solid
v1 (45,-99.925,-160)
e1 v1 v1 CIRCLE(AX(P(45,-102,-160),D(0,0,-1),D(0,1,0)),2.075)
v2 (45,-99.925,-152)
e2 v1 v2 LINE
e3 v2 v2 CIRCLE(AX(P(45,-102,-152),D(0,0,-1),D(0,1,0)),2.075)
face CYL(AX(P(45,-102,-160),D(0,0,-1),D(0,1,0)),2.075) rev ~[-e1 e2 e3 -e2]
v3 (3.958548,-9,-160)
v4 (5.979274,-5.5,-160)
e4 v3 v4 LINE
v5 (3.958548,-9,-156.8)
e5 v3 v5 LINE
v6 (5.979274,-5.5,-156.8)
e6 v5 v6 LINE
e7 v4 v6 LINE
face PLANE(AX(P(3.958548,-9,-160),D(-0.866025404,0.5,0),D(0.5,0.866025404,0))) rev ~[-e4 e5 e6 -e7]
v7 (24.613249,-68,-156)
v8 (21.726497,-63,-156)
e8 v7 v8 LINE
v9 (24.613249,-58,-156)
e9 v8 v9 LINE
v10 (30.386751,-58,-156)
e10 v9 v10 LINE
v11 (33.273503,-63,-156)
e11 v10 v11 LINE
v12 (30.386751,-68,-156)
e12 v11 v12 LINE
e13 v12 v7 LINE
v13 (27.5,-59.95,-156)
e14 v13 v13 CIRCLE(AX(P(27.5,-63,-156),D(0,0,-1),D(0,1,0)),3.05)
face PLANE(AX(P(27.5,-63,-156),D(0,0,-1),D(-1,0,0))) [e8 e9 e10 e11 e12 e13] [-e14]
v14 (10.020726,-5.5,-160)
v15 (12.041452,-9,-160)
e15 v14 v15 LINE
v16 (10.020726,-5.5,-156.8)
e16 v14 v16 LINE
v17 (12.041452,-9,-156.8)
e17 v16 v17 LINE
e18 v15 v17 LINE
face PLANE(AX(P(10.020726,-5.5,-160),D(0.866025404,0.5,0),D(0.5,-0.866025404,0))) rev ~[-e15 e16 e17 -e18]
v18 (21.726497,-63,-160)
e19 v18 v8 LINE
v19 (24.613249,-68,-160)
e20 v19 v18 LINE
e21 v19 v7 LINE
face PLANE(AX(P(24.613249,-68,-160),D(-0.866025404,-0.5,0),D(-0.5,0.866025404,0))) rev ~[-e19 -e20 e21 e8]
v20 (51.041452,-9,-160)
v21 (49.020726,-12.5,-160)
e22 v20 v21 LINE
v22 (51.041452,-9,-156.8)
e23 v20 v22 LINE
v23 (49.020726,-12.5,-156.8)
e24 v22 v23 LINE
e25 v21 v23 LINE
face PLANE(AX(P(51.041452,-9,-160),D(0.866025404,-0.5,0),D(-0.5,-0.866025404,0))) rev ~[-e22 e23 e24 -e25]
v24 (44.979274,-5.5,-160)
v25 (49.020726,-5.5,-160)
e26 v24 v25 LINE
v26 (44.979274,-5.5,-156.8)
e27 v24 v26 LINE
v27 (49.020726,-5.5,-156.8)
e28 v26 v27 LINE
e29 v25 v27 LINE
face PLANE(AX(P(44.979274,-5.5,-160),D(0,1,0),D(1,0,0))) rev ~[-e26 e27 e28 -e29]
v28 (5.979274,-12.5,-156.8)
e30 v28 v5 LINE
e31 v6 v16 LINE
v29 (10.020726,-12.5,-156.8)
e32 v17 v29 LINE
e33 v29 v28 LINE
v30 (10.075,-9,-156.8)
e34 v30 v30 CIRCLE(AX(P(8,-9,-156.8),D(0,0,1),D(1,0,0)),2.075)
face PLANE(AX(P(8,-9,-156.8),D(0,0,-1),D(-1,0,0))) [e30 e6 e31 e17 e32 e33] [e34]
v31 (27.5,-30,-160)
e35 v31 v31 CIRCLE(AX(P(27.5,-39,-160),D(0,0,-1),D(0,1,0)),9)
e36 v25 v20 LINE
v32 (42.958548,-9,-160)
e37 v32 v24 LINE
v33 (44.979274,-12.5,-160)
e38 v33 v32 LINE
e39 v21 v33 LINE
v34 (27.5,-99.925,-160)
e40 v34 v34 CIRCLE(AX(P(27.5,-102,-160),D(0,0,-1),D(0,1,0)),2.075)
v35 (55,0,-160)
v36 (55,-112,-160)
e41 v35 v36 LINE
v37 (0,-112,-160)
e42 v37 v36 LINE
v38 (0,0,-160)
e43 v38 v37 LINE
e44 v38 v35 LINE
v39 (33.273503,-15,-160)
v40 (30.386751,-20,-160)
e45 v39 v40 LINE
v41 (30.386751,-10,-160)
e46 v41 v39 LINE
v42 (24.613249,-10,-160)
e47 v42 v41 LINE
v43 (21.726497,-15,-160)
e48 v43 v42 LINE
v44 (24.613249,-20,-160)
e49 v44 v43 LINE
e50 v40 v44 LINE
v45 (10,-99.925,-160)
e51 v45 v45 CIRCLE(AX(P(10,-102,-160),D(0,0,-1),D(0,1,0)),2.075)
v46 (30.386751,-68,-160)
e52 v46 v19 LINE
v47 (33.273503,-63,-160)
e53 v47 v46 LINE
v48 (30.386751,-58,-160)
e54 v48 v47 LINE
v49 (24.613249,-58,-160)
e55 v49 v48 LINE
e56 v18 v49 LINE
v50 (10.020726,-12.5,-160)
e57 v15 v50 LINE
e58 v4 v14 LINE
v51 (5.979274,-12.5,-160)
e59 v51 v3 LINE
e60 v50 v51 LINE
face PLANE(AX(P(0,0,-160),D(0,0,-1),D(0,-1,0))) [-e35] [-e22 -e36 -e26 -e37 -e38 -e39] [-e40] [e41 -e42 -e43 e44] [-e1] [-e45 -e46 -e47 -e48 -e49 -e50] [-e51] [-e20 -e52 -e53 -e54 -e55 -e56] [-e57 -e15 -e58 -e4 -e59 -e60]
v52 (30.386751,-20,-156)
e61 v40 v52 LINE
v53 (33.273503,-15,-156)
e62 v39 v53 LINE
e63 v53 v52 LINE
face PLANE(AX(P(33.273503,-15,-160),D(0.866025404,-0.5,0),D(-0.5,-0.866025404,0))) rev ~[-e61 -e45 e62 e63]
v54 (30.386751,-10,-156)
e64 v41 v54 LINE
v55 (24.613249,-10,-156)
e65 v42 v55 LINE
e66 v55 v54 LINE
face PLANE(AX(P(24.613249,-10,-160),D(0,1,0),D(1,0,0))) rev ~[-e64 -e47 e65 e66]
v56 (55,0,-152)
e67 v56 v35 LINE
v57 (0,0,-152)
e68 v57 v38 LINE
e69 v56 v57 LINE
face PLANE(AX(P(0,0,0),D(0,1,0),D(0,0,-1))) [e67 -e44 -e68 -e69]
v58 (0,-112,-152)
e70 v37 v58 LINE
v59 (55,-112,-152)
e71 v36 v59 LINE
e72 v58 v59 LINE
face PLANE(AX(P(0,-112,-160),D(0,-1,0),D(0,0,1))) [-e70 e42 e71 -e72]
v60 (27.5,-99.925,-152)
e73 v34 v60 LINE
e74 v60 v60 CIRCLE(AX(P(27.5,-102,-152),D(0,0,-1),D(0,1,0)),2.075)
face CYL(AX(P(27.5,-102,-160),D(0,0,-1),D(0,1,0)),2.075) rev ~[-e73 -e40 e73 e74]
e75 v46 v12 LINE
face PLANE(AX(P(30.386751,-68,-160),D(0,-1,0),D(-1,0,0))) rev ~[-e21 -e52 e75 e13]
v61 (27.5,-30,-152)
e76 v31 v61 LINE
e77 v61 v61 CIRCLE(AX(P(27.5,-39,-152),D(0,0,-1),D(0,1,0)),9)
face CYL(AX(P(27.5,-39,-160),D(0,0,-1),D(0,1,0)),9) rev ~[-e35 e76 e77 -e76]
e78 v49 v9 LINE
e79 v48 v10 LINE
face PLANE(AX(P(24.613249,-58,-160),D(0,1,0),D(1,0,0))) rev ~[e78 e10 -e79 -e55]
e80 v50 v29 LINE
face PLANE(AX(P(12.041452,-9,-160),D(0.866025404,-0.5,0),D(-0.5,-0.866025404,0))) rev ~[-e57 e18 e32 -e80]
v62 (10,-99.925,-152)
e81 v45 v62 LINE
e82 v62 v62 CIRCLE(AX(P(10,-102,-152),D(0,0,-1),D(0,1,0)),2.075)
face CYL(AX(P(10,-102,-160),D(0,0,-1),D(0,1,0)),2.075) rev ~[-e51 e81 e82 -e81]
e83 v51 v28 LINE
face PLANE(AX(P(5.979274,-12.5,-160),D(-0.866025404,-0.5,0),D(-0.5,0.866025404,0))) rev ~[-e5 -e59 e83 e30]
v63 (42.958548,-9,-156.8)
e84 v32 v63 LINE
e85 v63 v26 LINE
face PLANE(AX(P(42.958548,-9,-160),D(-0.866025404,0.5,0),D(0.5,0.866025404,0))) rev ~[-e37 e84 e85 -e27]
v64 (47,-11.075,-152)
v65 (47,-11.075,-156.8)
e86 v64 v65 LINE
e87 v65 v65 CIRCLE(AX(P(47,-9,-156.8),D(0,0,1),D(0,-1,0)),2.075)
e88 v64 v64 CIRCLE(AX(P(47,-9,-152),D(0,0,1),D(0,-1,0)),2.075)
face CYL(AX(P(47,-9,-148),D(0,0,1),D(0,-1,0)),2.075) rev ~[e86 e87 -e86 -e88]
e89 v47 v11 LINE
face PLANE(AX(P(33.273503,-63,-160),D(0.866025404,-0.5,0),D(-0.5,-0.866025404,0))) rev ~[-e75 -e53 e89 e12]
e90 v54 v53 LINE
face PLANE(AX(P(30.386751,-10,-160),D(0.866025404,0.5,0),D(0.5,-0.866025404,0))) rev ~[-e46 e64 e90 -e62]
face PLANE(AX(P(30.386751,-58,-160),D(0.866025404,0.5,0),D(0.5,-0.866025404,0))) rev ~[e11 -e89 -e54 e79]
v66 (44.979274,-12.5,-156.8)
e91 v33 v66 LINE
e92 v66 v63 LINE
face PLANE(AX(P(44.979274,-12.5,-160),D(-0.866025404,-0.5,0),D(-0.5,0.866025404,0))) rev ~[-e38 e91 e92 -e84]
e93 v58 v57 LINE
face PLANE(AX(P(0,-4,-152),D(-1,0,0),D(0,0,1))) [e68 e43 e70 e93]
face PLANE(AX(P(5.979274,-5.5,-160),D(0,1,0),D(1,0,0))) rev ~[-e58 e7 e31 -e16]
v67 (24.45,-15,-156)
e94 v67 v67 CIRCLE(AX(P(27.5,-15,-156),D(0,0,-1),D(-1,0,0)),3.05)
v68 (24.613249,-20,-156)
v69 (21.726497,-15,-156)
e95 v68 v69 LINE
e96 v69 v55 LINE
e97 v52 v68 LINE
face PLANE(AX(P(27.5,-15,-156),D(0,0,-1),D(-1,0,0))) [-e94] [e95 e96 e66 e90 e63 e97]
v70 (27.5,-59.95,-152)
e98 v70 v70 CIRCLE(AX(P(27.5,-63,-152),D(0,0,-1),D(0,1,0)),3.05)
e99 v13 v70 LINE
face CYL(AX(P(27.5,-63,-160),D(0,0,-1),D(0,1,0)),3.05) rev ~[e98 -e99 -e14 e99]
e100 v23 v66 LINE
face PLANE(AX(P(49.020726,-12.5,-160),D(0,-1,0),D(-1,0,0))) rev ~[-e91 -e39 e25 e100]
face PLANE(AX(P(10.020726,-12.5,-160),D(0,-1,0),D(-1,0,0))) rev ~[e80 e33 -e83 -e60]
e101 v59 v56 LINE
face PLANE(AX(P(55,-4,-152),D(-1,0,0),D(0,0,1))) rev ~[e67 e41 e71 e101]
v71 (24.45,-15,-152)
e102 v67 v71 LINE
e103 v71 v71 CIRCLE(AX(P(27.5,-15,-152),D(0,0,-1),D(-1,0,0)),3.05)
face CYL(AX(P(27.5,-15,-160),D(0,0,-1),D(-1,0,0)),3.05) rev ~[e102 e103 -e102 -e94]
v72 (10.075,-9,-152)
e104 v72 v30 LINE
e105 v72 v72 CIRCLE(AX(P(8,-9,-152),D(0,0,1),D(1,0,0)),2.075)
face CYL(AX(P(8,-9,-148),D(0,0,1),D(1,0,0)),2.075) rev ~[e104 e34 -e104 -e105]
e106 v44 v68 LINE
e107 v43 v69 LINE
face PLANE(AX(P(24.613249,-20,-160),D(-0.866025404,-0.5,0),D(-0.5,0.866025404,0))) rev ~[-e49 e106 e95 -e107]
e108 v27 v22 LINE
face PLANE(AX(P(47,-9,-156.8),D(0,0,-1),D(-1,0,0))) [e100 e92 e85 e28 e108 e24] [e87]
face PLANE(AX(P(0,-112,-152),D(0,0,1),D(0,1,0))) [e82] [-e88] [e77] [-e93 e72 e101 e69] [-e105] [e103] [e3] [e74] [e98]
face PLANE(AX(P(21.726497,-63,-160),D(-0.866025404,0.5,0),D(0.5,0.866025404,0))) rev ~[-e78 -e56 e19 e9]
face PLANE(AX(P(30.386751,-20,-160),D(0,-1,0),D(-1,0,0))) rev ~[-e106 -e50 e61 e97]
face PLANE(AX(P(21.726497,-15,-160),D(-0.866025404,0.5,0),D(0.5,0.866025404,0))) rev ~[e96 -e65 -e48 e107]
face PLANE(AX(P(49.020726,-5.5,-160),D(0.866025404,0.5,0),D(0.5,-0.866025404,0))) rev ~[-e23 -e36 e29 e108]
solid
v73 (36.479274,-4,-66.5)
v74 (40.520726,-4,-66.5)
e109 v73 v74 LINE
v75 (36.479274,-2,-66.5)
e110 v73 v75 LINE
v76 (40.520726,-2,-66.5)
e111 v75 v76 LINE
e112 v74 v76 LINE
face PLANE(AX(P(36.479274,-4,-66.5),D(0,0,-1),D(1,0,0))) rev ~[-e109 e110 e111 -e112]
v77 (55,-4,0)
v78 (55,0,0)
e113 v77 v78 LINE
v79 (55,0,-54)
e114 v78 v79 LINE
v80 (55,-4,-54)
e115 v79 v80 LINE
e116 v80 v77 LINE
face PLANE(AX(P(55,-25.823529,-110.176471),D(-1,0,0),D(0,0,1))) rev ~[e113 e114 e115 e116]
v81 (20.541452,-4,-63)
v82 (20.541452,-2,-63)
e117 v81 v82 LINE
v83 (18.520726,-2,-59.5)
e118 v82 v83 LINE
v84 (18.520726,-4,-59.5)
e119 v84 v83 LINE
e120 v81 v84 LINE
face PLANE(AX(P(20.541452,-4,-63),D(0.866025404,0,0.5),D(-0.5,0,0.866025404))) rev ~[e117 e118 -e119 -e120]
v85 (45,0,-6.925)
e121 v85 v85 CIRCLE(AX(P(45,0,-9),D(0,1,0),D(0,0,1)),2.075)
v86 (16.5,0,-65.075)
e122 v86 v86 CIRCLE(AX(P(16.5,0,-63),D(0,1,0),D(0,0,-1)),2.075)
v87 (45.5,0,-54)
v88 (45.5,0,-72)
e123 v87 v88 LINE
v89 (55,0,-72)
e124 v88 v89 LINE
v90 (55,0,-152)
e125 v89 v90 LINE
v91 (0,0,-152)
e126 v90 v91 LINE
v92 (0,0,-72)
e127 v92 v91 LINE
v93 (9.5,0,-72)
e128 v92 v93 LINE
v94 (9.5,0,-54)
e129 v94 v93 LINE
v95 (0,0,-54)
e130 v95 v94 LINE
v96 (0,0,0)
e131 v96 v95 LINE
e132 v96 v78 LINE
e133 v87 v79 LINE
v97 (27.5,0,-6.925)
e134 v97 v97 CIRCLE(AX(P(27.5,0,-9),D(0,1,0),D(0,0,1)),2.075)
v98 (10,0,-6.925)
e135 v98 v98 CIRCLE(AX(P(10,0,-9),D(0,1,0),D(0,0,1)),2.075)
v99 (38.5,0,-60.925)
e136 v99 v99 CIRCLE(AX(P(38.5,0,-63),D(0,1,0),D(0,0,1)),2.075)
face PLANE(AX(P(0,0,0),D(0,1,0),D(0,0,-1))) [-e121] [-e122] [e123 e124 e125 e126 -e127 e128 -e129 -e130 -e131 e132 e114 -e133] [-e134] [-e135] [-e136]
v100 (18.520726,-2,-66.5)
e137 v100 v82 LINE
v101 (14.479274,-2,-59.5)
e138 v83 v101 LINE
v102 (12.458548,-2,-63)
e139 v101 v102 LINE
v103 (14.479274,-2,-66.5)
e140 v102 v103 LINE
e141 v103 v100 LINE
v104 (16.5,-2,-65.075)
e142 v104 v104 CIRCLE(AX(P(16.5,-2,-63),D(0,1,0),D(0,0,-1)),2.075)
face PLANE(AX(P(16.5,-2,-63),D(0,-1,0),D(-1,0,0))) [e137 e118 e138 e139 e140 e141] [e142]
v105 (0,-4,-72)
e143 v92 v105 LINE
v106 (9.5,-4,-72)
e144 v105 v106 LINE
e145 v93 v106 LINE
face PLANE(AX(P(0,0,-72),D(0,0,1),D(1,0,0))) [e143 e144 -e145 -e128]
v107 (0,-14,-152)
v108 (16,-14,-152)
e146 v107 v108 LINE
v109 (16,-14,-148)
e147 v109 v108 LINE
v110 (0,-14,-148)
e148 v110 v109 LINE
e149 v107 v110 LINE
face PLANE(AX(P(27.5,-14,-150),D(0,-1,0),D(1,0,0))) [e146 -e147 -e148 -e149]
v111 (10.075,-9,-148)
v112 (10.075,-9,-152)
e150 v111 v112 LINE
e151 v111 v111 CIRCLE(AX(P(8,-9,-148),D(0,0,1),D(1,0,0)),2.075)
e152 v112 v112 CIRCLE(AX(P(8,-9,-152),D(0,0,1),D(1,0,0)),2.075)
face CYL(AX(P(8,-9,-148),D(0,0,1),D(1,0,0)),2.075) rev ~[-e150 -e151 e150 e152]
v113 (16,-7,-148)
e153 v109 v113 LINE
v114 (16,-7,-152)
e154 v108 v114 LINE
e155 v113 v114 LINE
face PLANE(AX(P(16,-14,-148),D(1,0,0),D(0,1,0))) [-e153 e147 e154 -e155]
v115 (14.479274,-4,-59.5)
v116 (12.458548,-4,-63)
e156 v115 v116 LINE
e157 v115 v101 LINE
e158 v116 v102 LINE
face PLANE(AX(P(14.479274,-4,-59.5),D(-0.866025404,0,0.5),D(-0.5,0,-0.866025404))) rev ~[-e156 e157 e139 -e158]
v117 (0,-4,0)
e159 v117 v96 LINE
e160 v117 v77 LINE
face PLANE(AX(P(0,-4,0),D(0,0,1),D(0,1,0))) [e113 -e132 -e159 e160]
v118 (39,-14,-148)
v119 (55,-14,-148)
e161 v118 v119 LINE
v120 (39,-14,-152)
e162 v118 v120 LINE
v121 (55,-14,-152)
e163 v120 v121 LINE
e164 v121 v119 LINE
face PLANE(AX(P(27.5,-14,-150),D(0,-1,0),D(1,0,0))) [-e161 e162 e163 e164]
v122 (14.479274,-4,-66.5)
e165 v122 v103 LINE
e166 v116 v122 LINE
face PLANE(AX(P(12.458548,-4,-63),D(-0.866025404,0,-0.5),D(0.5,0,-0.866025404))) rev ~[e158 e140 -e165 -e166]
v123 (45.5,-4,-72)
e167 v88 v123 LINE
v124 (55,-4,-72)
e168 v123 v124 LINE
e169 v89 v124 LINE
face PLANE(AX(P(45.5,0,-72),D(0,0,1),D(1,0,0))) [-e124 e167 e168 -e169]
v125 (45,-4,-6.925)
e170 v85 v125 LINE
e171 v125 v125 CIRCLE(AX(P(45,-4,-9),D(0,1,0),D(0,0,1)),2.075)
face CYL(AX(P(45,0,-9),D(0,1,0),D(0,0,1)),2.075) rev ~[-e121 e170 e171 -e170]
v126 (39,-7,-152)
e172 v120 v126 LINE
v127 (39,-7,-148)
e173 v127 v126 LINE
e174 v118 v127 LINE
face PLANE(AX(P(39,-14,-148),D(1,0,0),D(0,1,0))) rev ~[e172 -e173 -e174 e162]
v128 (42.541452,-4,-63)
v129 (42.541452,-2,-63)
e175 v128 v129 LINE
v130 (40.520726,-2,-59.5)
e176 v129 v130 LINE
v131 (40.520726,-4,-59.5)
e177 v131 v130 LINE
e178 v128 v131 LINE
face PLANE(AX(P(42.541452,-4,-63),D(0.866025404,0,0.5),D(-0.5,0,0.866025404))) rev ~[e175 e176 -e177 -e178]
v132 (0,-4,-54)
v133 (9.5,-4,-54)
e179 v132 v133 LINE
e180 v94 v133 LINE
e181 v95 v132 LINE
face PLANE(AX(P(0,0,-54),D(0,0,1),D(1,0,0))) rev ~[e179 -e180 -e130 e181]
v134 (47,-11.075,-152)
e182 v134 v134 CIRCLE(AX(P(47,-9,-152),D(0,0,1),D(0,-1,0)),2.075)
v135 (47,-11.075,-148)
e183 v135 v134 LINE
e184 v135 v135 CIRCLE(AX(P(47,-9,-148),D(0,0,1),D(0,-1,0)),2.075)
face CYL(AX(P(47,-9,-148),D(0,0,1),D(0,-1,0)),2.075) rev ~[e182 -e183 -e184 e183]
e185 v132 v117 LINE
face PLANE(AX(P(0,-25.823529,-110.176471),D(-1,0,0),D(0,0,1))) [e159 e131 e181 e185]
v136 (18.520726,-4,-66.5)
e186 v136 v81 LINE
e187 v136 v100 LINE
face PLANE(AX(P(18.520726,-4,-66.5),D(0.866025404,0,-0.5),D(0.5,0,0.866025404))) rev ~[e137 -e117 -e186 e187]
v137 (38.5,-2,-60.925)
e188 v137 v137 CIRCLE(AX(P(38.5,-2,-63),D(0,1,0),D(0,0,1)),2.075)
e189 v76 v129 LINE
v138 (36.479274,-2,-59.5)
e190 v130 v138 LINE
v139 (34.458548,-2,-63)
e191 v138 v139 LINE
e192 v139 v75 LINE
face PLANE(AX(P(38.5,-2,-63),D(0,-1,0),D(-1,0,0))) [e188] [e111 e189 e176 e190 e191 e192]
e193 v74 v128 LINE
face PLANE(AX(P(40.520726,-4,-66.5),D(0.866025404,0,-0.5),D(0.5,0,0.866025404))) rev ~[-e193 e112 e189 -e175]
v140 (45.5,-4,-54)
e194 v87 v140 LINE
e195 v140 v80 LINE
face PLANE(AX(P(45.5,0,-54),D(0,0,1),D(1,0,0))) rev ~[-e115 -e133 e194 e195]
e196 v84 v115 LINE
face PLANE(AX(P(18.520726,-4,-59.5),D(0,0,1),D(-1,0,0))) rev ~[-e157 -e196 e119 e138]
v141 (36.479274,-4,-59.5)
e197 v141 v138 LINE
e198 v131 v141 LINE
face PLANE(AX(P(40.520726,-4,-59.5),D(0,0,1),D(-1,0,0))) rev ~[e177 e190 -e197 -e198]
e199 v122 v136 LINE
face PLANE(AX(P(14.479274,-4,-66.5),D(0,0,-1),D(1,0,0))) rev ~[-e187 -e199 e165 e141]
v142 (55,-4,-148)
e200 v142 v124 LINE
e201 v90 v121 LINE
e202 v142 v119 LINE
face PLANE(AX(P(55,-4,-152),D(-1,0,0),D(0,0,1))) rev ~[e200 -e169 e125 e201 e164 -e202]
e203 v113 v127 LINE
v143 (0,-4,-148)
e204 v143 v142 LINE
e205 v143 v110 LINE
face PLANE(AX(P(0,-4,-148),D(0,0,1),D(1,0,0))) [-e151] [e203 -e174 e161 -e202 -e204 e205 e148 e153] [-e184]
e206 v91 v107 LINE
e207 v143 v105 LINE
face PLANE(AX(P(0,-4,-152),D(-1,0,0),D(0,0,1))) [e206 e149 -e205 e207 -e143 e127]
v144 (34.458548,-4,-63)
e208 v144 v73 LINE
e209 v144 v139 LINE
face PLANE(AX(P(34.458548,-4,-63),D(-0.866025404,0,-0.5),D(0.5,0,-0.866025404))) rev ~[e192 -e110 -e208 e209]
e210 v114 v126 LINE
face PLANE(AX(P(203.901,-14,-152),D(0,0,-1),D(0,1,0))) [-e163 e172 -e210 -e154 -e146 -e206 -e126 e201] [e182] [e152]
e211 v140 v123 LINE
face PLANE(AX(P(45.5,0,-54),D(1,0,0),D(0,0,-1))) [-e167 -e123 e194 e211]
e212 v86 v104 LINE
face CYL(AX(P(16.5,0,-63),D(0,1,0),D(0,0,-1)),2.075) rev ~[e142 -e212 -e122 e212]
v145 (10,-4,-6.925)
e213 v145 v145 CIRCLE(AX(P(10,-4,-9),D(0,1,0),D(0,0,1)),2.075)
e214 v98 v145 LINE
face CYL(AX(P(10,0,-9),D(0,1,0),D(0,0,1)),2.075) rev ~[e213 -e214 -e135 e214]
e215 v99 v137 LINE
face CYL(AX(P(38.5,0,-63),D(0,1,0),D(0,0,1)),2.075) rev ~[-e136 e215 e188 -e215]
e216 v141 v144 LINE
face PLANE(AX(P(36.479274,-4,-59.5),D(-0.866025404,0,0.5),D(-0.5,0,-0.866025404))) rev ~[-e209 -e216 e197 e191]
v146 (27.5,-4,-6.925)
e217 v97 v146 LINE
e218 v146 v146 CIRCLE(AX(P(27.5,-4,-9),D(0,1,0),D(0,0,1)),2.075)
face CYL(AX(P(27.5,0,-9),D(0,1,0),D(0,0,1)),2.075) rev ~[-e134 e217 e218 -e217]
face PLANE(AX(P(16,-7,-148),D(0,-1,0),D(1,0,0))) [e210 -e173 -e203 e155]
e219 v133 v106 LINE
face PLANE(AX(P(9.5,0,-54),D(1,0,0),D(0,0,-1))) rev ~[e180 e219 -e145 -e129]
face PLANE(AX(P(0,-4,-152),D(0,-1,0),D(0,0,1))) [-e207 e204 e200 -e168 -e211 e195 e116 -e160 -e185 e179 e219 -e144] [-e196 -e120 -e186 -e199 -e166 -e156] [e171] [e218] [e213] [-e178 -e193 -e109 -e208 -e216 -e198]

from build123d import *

# Parameters (mm, degrees)
BOSS_EXTRUDE1_DEPTH    = 55
CUT_EXTRUDE1_REACH     = 204.901
SKETCH2_R              = 9
SKETCH2_R_2            = 3.05
CUT_EXTRUDE2_DEPTH     = 4
SKETCH4_R              = 2.075
CUT_EXTRUDE3_DEPTH     = 4
CUT_EXTRUDE5_DEPTH     = 2
CUT_EXTRUDE6_REACH     = 204.901
SKETCH8_W              = 9.5
SKETCH8_H              = 18
CUT_EXTRUDE7_REACH     = 204.901
SKETCH9_R              = 2.075
CUT_EXTRUDE8_REACH     = 204.901
SKETCH10_R             = 2.075
SKETCH12_W             = 55
SKETCH12_H             = 4
BOSS_EXTRUDE2_DEPTH    = 10
SKETCH13_W             = 23
SKETCH13_H             = 7
CUT_EXTRUDE9_DEPTH     = 4
CUT_EXTRUDE10_REACH    = 195.579
SKETCH14_R             = 2.075
CUT_EXTRUDE11_DEPTH    = 3.2
SPLIT1_SURFACE_1_BACK  = 203.901
SPLIT1_SURFACE_1_DEPTH = 407.802
SPLIT1_SURFACE_2_BACK  = 203.901
SPLIT1_SURFACE_2_DEPTH = 407.802


with BuildPart() as part:
    # Sketch1 → Boss-Extrude1 (new body)
    with BuildSketch(Plane(origin=(0, 0, 0), x_dir=(0, 0, -1), z_dir=(1, 0, 0))):
        Polygon((0, 0), (160, 0), (160, -112), (152, -112), (152, -4), (0, -4), align=None)
    extrude(amount=BOSS_EXTRUDE1_DEPTH)

    # Sketch2 → Cut-Extrude1 (cut, up to next)
    with BuildSketch(Plane(origin=(0, 0, -160), x_dir=(-1, 0, 0), z_dir=(0, 0, -1)), mode=Mode.PRIVATE) as cut_extrude1_sk1:
        with Locations(Location((-27.5, -39, 0), (0, 0, 90))):
            Circle(SKETCH2_R)
    cut_extrude1_tool1 = extrude(cut_extrude1_sk1.sketch, amount=-CUT_EXTRUDE1_REACH, mode=Mode.PRIVATE) & part.part
    # Sketch2 → Cut-Extrude1 (cut, up to next)
    with BuildSketch(Plane(origin=(0, 0, -160), x_dir=(-1, 0, 0), z_dir=(0, 0, -1)), mode=Mode.PRIVATE) as cut_extrude1_sk2:
        with Locations(Location((-27.5, -63, 0), (0, 0, 90))):
            Circle(SKETCH2_R_2)
    cut_extrude1_tool2 = extrude(cut_extrude1_sk2.sketch, amount=-CUT_EXTRUDE1_REACH, mode=Mode.PRIVATE) & part.part
    # Sketch2 → Cut-Extrude1 (cut, up to next)
    with BuildSketch(Plane(origin=(0, 0, -160), x_dir=(-1, 0, 0), z_dir=(0, 0, -1)), mode=Mode.PRIVATE) as cut_extrude1_sk3:
        with Locations((-27.5, -15)):
            Circle(SKETCH2_R_2)
    cut_extrude1_tool3 = extrude(cut_extrude1_sk3.sketch, amount=-CUT_EXTRUDE1_REACH, mode=Mode.PRIVATE) & part.part
    add(cut_extrude1_tool1.solids().sort_by_distance((27.5, -39, -160))[0], mode=Mode.SUBTRACT)
    add(cut_extrude1_tool2.solids().sort_by_distance((27.5, -63, -160))[0], mode=Mode.SUBTRACT)
    add(cut_extrude1_tool3.solids().sort_by_distance((27.5, -15, -160))[0], mode=Mode.SUBTRACT)

    # Sketch3 → Cut-Extrude2 (cut)
    with BuildSketch(Plane(origin=(0, 0, -160), x_dir=(-1, 0, 0), z_dir=(0, 0, -1))):
        Polygon((-21.726497308, -15), (-24.613248654, -10), (-30.386751346, -10), (-33.273502692, -15), (-30.386751346, -20), (-24.613248654, -20), align=None)
        Polygon((-24.613248654, -68), (-21.726497308, -63), (-24.613248654, -58), (-30.386751346, -58), (-33.273502692, -63), (-30.386751346, -68), align=None)
    extrude(amount=-CUT_EXTRUDE2_DEPTH, mode=Mode.SUBTRACT)

    # Sketch4 → Cut-Extrude3 (cut)
    with BuildSketch(Plane(origin=(0, 0, 0), x_dir=(1, 0, 0), z_dir=(0, 1, 0))):
        with Locations(Location((38.5, 63, 0), (0, 0, 270))):
            Circle(SKETCH4_R)
        with Locations(Location((16.5, 63, 0), (0, 0, 90))):
            Circle(SKETCH4_R)
    extrude(amount=-CUT_EXTRUDE3_DEPTH, mode=Mode.SUBTRACT)

    # Sketch7 → Cut-Extrude5 (cut)
    with BuildSketch(Plane(origin=(0, -4, 0), x_dir=(-1, 0, 0), z_dir=(0, -1, 0))):
        Polygon((-18.520725942, 66.5), (-20.541451884, 63), (-18.520725942, 59.5), (-14.479274058, 59.5), (-12.458548116, 63), (-14.479274058, 66.5), align=None)
        Polygon((-42.541451884, 63), (-40.520725942, 59.5), (-36.479274058, 59.5), (-34.458548116, 63), (-36.479274058, 66.5), (-40.520725942, 66.5), align=None)
    extrude(amount=-CUT_EXTRUDE5_DEPTH, mode=Mode.SUBTRACT)

    # Sketch8 → Cut-Extrude6 (cut, up to next)
    with BuildSketch(Plane(origin=(0, 0, 0), x_dir=(1, 0, 0), z_dir=(0, 1, 0)), mode=Mode.PRIVATE) as cut_extrude6_sk1:
        with Locations((4.75, 63)):
            Rectangle(SKETCH8_W, SKETCH8_H)
    cut_extrude6_tool1 = extrude(cut_extrude6_sk1.sketch, amount=-CUT_EXTRUDE6_REACH, mode=Mode.PRIVATE) & part.part
    # Sketch8 → Cut-Extrude6 (cut, up to next)
    with BuildSketch(Plane(origin=(0, 0, 0), x_dir=(1, 0, 0), z_dir=(0, 1, 0)), mode=Mode.PRIVATE) as cut_extrude6_sk2:
        with Locations((50.25, 63)):
            Rectangle(SKETCH8_W, SKETCH8_H)
    cut_extrude6_tool2 = extrude(cut_extrude6_sk2.sketch, amount=-CUT_EXTRUDE6_REACH, mode=Mode.PRIVATE) & part.part
    add(cut_extrude6_tool1.solids().sort_by_distance((4.75, 0, -63))[0], mode=Mode.SUBTRACT)
    add(cut_extrude6_tool2.solids().sort_by_distance((50.25, 0, -63))[0], mode=Mode.SUBTRACT)

    # Sketch9 → Cut-Extrude7 (cut, up to next)
    with BuildSketch(Plane(origin=(0, 0, -160), x_dir=(-1, 0, 0), z_dir=(0, 0, -1)), mode=Mode.PRIVATE) as cut_extrude7_sk1:
        with Locations(Location((-45, -102, 0), (0, 0, 90))):
            Circle(SKETCH9_R)
    cut_extrude7_tool1 = extrude(cut_extrude7_sk1.sketch, amount=-CUT_EXTRUDE7_REACH, mode=Mode.PRIVATE) & part.part
    # Sketch9 → Cut-Extrude7 (cut, up to next)
    with BuildSketch(Plane(origin=(0, 0, -160), x_dir=(-1, 0, 0), z_dir=(0, 0, -1)), mode=Mode.PRIVATE) as cut_extrude7_sk2:
        with Locations(Location((-27.5, -102, 0), (0, 0, 90))):
            Circle(SKETCH9_R)
    cut_extrude7_tool2 = extrude(cut_extrude7_sk2.sketch, amount=-CUT_EXTRUDE7_REACH, mode=Mode.PRIVATE) & part.part
    # Sketch9 → Cut-Extrude7 (cut, up to next)
    with BuildSketch(Plane(origin=(0, 0, -160), x_dir=(-1, 0, 0), z_dir=(0, 0, -1)), mode=Mode.PRIVATE) as cut_extrude7_sk3:
        with Locations(Location((-10, -102, 0), (0, 0, 90))):
            Circle(SKETCH9_R)
    cut_extrude7_tool3 = extrude(cut_extrude7_sk3.sketch, amount=-CUT_EXTRUDE7_REACH, mode=Mode.PRIVATE) & part.part
    add(cut_extrude7_tool1.solids().sort_by_distance((45, -102, -160))[0], mode=Mode.SUBTRACT)
    add(cut_extrude7_tool2.solids().sort_by_distance((27.5, -102, -160))[0], mode=Mode.SUBTRACT)
    add(cut_extrude7_tool3.solids().sort_by_distance((10, -102, -160))[0], mode=Mode.SUBTRACT)

    # Sketch10 → Cut-Extrude8 (cut, up to next)
    with BuildSketch(Plane(origin=(0, 0, 0), x_dir=(1, 0, 0), z_dir=(0, 1, 0)), mode=Mode.PRIVATE) as cut_extrude8_sk1:
        with Locations(Location((10, 9, 0), (0, 0, 270))):
            Circle(SKETCH10_R)
    cut_extrude8_tool1 = extrude(cut_extrude8_sk1.sketch, amount=-CUT_EXTRUDE8_REACH, mode=Mode.PRIVATE) & part.part
    # Sketch10 → Cut-Extrude8 (cut, up to next)
    with BuildSketch(Plane(origin=(0, 0, 0), x_dir=(1, 0, 0), z_dir=(0, 1, 0)), mode=Mode.PRIVATE) as cut_extrude8_sk2:
        with Locations(Location((27.5, 9, 0), (0, 0, 270))):
            Circle(SKETCH10_R)
    cut_extrude8_tool2 = extrude(cut_extrude8_sk2.sketch, amount=-CUT_EXTRUDE8_REACH, mode=Mode.PRIVATE) & part.part
    # Sketch10 → Cut-Extrude8 (cut, up to next)
    with BuildSketch(Plane(origin=(0, 0, 0), x_dir=(1, 0, 0), z_dir=(0, 1, 0)), mode=Mode.PRIVATE) as cut_extrude8_sk3:
        with Locations(Location((45, 9, 0), (0, 0, 270))):
            Circle(SKETCH10_R)
    cut_extrude8_tool3 = extrude(cut_extrude8_sk3.sketch, amount=-CUT_EXTRUDE8_REACH, mode=Mode.PRIVATE) & part.part
    add(cut_extrude8_tool1.solids().sort_by_distance((10, 0, -9))[0], mode=Mode.SUBTRACT)
    add(cut_extrude8_tool2.solids().sort_by_distance((27.5, 0, -9))[0], mode=Mode.SUBTRACT)
    add(cut_extrude8_tool3.solids().sort_by_distance((45, 0, -9))[0], mode=Mode.SUBTRACT)

    # Sketch12 → Boss-Extrude2 (add)
    with BuildSketch(Plane.XZ.offset(4)):
        with Locations((27.5, -150)):
            Rectangle(SKETCH12_W, SKETCH12_H)
    extrude(amount=BOSS_EXTRUDE2_DEPTH)

    # Sketch13 → Cut-Extrude9 (cut)
    with BuildSketch(Plane.XY.offset(-148)):
        with Locations((27.5, -10.5)):
            Rectangle(SKETCH13_W, SKETCH13_H)
    extrude(amount=-CUT_EXTRUDE9_DEPTH, mode=Mode.SUBTRACT)

    # Sketch14 → Cut-Extrude10 (cut, up to next)
    with BuildSketch(Plane.XY.offset(-148), mode=Mode.PRIVATE) as cut_extrude10_sk1:
        with Locations((8, -9)):
            Circle(SKETCH14_R)
    cut_extrude10_tool1 = extrude(cut_extrude10_sk1.sketch, amount=-CUT_EXTRUDE10_REACH, mode=Mode.PRIVATE) & part.part
    # Sketch14 → Cut-Extrude10 (cut, up to next)
    with BuildSketch(Plane.XY.offset(-148), mode=Mode.PRIVATE) as cut_extrude10_sk2:
        with Locations(Location((47, -9, 0), (0, 0, 270))):
            Circle(SKETCH14_R)
    cut_extrude10_tool2 = extrude(cut_extrude10_sk2.sketch, amount=-CUT_EXTRUDE10_REACH, mode=Mode.PRIVATE) & part.part
    add(cut_extrude10_tool1.solids().sort_by_distance((8, -9, -148))[0], mode=Mode.SUBTRACT)
    add(cut_extrude10_tool2.solids().sort_by_distance((47, -9, -148))[0], mode=Mode.SUBTRACT)

    # Sketch15 → Cut-Extrude11 (cut)
    with BuildSketch(Plane(origin=(0, 0, -160), x_dir=(-1, 0, 0), z_dir=(0, 0, -1))):
        Polygon((-42.958548116, -9), (-44.979274058, -5.5), (-49.020725942, -5.5), (-51.041451884, -9), (-49.020725942, -12.5), (-44.979274058, -12.5), align=None)
        Polygon((-3.958548116, -9), (-5.979274058, -5.5), (-10.020725942, -5.5), (-12.041451884, -9), (-10.020725942, -12.5), (-5.979274058, -12.5), align=None)
    extrude(amount=-CUT_EXTRUDE11_DEPTH, mode=Mode.SUBTRACT)


with BuildPart() as body_2:
    # Split1: the piece behind the surface
    add(part.part)
    # Split1 surface: a surface, the sketch's curves swept straight by 407.802 mm
    with BuildLine(Plane.ZY.offset(-SPLIT1_SURFACE_1_BACK), mode=Mode.PRIVATE) as split1_surface_1_path:
        Line((-152, -14), (-152, 0))
    split1_surface_1 = Shell.extrude(split1_surface_1_path.wire(), (-1 * SPLIT1_SURFACE_1_DEPTH, 0 * SPLIT1_SURFACE_1_DEPTH, 0 * SPLIT1_SURFACE_1_DEPTH))
    split(bisect_by=split1_surface_1, keep=Keep.BOTTOM)


with BuildPart() as part_1:
    add(part.part)

    # Split1: split by a surface, the side it looks to stays
    # Split1 surface: a surface, the sketch's curves swept straight by 407.802 mm
    with BuildLine(Plane.ZY.offset(-SPLIT1_SURFACE_2_BACK), mode=Mode.PRIVATE) as split1_surface_2_path:
        Line((-152, -14), (-152, 0))
    split1_surface_2 = Shell.extrude(split1_surface_2_path.wire(), (-1 * SPLIT1_SURFACE_2_DEPTH, 0 * SPLIT1_SURFACE_2_DEPTH, 0 * SPLIT1_SURFACE_2_DEPTH))
    split(bisect_by=split1_surface_2, keep=Keep.TOP)


solid = Compound([body_2.part, part_1.part])
